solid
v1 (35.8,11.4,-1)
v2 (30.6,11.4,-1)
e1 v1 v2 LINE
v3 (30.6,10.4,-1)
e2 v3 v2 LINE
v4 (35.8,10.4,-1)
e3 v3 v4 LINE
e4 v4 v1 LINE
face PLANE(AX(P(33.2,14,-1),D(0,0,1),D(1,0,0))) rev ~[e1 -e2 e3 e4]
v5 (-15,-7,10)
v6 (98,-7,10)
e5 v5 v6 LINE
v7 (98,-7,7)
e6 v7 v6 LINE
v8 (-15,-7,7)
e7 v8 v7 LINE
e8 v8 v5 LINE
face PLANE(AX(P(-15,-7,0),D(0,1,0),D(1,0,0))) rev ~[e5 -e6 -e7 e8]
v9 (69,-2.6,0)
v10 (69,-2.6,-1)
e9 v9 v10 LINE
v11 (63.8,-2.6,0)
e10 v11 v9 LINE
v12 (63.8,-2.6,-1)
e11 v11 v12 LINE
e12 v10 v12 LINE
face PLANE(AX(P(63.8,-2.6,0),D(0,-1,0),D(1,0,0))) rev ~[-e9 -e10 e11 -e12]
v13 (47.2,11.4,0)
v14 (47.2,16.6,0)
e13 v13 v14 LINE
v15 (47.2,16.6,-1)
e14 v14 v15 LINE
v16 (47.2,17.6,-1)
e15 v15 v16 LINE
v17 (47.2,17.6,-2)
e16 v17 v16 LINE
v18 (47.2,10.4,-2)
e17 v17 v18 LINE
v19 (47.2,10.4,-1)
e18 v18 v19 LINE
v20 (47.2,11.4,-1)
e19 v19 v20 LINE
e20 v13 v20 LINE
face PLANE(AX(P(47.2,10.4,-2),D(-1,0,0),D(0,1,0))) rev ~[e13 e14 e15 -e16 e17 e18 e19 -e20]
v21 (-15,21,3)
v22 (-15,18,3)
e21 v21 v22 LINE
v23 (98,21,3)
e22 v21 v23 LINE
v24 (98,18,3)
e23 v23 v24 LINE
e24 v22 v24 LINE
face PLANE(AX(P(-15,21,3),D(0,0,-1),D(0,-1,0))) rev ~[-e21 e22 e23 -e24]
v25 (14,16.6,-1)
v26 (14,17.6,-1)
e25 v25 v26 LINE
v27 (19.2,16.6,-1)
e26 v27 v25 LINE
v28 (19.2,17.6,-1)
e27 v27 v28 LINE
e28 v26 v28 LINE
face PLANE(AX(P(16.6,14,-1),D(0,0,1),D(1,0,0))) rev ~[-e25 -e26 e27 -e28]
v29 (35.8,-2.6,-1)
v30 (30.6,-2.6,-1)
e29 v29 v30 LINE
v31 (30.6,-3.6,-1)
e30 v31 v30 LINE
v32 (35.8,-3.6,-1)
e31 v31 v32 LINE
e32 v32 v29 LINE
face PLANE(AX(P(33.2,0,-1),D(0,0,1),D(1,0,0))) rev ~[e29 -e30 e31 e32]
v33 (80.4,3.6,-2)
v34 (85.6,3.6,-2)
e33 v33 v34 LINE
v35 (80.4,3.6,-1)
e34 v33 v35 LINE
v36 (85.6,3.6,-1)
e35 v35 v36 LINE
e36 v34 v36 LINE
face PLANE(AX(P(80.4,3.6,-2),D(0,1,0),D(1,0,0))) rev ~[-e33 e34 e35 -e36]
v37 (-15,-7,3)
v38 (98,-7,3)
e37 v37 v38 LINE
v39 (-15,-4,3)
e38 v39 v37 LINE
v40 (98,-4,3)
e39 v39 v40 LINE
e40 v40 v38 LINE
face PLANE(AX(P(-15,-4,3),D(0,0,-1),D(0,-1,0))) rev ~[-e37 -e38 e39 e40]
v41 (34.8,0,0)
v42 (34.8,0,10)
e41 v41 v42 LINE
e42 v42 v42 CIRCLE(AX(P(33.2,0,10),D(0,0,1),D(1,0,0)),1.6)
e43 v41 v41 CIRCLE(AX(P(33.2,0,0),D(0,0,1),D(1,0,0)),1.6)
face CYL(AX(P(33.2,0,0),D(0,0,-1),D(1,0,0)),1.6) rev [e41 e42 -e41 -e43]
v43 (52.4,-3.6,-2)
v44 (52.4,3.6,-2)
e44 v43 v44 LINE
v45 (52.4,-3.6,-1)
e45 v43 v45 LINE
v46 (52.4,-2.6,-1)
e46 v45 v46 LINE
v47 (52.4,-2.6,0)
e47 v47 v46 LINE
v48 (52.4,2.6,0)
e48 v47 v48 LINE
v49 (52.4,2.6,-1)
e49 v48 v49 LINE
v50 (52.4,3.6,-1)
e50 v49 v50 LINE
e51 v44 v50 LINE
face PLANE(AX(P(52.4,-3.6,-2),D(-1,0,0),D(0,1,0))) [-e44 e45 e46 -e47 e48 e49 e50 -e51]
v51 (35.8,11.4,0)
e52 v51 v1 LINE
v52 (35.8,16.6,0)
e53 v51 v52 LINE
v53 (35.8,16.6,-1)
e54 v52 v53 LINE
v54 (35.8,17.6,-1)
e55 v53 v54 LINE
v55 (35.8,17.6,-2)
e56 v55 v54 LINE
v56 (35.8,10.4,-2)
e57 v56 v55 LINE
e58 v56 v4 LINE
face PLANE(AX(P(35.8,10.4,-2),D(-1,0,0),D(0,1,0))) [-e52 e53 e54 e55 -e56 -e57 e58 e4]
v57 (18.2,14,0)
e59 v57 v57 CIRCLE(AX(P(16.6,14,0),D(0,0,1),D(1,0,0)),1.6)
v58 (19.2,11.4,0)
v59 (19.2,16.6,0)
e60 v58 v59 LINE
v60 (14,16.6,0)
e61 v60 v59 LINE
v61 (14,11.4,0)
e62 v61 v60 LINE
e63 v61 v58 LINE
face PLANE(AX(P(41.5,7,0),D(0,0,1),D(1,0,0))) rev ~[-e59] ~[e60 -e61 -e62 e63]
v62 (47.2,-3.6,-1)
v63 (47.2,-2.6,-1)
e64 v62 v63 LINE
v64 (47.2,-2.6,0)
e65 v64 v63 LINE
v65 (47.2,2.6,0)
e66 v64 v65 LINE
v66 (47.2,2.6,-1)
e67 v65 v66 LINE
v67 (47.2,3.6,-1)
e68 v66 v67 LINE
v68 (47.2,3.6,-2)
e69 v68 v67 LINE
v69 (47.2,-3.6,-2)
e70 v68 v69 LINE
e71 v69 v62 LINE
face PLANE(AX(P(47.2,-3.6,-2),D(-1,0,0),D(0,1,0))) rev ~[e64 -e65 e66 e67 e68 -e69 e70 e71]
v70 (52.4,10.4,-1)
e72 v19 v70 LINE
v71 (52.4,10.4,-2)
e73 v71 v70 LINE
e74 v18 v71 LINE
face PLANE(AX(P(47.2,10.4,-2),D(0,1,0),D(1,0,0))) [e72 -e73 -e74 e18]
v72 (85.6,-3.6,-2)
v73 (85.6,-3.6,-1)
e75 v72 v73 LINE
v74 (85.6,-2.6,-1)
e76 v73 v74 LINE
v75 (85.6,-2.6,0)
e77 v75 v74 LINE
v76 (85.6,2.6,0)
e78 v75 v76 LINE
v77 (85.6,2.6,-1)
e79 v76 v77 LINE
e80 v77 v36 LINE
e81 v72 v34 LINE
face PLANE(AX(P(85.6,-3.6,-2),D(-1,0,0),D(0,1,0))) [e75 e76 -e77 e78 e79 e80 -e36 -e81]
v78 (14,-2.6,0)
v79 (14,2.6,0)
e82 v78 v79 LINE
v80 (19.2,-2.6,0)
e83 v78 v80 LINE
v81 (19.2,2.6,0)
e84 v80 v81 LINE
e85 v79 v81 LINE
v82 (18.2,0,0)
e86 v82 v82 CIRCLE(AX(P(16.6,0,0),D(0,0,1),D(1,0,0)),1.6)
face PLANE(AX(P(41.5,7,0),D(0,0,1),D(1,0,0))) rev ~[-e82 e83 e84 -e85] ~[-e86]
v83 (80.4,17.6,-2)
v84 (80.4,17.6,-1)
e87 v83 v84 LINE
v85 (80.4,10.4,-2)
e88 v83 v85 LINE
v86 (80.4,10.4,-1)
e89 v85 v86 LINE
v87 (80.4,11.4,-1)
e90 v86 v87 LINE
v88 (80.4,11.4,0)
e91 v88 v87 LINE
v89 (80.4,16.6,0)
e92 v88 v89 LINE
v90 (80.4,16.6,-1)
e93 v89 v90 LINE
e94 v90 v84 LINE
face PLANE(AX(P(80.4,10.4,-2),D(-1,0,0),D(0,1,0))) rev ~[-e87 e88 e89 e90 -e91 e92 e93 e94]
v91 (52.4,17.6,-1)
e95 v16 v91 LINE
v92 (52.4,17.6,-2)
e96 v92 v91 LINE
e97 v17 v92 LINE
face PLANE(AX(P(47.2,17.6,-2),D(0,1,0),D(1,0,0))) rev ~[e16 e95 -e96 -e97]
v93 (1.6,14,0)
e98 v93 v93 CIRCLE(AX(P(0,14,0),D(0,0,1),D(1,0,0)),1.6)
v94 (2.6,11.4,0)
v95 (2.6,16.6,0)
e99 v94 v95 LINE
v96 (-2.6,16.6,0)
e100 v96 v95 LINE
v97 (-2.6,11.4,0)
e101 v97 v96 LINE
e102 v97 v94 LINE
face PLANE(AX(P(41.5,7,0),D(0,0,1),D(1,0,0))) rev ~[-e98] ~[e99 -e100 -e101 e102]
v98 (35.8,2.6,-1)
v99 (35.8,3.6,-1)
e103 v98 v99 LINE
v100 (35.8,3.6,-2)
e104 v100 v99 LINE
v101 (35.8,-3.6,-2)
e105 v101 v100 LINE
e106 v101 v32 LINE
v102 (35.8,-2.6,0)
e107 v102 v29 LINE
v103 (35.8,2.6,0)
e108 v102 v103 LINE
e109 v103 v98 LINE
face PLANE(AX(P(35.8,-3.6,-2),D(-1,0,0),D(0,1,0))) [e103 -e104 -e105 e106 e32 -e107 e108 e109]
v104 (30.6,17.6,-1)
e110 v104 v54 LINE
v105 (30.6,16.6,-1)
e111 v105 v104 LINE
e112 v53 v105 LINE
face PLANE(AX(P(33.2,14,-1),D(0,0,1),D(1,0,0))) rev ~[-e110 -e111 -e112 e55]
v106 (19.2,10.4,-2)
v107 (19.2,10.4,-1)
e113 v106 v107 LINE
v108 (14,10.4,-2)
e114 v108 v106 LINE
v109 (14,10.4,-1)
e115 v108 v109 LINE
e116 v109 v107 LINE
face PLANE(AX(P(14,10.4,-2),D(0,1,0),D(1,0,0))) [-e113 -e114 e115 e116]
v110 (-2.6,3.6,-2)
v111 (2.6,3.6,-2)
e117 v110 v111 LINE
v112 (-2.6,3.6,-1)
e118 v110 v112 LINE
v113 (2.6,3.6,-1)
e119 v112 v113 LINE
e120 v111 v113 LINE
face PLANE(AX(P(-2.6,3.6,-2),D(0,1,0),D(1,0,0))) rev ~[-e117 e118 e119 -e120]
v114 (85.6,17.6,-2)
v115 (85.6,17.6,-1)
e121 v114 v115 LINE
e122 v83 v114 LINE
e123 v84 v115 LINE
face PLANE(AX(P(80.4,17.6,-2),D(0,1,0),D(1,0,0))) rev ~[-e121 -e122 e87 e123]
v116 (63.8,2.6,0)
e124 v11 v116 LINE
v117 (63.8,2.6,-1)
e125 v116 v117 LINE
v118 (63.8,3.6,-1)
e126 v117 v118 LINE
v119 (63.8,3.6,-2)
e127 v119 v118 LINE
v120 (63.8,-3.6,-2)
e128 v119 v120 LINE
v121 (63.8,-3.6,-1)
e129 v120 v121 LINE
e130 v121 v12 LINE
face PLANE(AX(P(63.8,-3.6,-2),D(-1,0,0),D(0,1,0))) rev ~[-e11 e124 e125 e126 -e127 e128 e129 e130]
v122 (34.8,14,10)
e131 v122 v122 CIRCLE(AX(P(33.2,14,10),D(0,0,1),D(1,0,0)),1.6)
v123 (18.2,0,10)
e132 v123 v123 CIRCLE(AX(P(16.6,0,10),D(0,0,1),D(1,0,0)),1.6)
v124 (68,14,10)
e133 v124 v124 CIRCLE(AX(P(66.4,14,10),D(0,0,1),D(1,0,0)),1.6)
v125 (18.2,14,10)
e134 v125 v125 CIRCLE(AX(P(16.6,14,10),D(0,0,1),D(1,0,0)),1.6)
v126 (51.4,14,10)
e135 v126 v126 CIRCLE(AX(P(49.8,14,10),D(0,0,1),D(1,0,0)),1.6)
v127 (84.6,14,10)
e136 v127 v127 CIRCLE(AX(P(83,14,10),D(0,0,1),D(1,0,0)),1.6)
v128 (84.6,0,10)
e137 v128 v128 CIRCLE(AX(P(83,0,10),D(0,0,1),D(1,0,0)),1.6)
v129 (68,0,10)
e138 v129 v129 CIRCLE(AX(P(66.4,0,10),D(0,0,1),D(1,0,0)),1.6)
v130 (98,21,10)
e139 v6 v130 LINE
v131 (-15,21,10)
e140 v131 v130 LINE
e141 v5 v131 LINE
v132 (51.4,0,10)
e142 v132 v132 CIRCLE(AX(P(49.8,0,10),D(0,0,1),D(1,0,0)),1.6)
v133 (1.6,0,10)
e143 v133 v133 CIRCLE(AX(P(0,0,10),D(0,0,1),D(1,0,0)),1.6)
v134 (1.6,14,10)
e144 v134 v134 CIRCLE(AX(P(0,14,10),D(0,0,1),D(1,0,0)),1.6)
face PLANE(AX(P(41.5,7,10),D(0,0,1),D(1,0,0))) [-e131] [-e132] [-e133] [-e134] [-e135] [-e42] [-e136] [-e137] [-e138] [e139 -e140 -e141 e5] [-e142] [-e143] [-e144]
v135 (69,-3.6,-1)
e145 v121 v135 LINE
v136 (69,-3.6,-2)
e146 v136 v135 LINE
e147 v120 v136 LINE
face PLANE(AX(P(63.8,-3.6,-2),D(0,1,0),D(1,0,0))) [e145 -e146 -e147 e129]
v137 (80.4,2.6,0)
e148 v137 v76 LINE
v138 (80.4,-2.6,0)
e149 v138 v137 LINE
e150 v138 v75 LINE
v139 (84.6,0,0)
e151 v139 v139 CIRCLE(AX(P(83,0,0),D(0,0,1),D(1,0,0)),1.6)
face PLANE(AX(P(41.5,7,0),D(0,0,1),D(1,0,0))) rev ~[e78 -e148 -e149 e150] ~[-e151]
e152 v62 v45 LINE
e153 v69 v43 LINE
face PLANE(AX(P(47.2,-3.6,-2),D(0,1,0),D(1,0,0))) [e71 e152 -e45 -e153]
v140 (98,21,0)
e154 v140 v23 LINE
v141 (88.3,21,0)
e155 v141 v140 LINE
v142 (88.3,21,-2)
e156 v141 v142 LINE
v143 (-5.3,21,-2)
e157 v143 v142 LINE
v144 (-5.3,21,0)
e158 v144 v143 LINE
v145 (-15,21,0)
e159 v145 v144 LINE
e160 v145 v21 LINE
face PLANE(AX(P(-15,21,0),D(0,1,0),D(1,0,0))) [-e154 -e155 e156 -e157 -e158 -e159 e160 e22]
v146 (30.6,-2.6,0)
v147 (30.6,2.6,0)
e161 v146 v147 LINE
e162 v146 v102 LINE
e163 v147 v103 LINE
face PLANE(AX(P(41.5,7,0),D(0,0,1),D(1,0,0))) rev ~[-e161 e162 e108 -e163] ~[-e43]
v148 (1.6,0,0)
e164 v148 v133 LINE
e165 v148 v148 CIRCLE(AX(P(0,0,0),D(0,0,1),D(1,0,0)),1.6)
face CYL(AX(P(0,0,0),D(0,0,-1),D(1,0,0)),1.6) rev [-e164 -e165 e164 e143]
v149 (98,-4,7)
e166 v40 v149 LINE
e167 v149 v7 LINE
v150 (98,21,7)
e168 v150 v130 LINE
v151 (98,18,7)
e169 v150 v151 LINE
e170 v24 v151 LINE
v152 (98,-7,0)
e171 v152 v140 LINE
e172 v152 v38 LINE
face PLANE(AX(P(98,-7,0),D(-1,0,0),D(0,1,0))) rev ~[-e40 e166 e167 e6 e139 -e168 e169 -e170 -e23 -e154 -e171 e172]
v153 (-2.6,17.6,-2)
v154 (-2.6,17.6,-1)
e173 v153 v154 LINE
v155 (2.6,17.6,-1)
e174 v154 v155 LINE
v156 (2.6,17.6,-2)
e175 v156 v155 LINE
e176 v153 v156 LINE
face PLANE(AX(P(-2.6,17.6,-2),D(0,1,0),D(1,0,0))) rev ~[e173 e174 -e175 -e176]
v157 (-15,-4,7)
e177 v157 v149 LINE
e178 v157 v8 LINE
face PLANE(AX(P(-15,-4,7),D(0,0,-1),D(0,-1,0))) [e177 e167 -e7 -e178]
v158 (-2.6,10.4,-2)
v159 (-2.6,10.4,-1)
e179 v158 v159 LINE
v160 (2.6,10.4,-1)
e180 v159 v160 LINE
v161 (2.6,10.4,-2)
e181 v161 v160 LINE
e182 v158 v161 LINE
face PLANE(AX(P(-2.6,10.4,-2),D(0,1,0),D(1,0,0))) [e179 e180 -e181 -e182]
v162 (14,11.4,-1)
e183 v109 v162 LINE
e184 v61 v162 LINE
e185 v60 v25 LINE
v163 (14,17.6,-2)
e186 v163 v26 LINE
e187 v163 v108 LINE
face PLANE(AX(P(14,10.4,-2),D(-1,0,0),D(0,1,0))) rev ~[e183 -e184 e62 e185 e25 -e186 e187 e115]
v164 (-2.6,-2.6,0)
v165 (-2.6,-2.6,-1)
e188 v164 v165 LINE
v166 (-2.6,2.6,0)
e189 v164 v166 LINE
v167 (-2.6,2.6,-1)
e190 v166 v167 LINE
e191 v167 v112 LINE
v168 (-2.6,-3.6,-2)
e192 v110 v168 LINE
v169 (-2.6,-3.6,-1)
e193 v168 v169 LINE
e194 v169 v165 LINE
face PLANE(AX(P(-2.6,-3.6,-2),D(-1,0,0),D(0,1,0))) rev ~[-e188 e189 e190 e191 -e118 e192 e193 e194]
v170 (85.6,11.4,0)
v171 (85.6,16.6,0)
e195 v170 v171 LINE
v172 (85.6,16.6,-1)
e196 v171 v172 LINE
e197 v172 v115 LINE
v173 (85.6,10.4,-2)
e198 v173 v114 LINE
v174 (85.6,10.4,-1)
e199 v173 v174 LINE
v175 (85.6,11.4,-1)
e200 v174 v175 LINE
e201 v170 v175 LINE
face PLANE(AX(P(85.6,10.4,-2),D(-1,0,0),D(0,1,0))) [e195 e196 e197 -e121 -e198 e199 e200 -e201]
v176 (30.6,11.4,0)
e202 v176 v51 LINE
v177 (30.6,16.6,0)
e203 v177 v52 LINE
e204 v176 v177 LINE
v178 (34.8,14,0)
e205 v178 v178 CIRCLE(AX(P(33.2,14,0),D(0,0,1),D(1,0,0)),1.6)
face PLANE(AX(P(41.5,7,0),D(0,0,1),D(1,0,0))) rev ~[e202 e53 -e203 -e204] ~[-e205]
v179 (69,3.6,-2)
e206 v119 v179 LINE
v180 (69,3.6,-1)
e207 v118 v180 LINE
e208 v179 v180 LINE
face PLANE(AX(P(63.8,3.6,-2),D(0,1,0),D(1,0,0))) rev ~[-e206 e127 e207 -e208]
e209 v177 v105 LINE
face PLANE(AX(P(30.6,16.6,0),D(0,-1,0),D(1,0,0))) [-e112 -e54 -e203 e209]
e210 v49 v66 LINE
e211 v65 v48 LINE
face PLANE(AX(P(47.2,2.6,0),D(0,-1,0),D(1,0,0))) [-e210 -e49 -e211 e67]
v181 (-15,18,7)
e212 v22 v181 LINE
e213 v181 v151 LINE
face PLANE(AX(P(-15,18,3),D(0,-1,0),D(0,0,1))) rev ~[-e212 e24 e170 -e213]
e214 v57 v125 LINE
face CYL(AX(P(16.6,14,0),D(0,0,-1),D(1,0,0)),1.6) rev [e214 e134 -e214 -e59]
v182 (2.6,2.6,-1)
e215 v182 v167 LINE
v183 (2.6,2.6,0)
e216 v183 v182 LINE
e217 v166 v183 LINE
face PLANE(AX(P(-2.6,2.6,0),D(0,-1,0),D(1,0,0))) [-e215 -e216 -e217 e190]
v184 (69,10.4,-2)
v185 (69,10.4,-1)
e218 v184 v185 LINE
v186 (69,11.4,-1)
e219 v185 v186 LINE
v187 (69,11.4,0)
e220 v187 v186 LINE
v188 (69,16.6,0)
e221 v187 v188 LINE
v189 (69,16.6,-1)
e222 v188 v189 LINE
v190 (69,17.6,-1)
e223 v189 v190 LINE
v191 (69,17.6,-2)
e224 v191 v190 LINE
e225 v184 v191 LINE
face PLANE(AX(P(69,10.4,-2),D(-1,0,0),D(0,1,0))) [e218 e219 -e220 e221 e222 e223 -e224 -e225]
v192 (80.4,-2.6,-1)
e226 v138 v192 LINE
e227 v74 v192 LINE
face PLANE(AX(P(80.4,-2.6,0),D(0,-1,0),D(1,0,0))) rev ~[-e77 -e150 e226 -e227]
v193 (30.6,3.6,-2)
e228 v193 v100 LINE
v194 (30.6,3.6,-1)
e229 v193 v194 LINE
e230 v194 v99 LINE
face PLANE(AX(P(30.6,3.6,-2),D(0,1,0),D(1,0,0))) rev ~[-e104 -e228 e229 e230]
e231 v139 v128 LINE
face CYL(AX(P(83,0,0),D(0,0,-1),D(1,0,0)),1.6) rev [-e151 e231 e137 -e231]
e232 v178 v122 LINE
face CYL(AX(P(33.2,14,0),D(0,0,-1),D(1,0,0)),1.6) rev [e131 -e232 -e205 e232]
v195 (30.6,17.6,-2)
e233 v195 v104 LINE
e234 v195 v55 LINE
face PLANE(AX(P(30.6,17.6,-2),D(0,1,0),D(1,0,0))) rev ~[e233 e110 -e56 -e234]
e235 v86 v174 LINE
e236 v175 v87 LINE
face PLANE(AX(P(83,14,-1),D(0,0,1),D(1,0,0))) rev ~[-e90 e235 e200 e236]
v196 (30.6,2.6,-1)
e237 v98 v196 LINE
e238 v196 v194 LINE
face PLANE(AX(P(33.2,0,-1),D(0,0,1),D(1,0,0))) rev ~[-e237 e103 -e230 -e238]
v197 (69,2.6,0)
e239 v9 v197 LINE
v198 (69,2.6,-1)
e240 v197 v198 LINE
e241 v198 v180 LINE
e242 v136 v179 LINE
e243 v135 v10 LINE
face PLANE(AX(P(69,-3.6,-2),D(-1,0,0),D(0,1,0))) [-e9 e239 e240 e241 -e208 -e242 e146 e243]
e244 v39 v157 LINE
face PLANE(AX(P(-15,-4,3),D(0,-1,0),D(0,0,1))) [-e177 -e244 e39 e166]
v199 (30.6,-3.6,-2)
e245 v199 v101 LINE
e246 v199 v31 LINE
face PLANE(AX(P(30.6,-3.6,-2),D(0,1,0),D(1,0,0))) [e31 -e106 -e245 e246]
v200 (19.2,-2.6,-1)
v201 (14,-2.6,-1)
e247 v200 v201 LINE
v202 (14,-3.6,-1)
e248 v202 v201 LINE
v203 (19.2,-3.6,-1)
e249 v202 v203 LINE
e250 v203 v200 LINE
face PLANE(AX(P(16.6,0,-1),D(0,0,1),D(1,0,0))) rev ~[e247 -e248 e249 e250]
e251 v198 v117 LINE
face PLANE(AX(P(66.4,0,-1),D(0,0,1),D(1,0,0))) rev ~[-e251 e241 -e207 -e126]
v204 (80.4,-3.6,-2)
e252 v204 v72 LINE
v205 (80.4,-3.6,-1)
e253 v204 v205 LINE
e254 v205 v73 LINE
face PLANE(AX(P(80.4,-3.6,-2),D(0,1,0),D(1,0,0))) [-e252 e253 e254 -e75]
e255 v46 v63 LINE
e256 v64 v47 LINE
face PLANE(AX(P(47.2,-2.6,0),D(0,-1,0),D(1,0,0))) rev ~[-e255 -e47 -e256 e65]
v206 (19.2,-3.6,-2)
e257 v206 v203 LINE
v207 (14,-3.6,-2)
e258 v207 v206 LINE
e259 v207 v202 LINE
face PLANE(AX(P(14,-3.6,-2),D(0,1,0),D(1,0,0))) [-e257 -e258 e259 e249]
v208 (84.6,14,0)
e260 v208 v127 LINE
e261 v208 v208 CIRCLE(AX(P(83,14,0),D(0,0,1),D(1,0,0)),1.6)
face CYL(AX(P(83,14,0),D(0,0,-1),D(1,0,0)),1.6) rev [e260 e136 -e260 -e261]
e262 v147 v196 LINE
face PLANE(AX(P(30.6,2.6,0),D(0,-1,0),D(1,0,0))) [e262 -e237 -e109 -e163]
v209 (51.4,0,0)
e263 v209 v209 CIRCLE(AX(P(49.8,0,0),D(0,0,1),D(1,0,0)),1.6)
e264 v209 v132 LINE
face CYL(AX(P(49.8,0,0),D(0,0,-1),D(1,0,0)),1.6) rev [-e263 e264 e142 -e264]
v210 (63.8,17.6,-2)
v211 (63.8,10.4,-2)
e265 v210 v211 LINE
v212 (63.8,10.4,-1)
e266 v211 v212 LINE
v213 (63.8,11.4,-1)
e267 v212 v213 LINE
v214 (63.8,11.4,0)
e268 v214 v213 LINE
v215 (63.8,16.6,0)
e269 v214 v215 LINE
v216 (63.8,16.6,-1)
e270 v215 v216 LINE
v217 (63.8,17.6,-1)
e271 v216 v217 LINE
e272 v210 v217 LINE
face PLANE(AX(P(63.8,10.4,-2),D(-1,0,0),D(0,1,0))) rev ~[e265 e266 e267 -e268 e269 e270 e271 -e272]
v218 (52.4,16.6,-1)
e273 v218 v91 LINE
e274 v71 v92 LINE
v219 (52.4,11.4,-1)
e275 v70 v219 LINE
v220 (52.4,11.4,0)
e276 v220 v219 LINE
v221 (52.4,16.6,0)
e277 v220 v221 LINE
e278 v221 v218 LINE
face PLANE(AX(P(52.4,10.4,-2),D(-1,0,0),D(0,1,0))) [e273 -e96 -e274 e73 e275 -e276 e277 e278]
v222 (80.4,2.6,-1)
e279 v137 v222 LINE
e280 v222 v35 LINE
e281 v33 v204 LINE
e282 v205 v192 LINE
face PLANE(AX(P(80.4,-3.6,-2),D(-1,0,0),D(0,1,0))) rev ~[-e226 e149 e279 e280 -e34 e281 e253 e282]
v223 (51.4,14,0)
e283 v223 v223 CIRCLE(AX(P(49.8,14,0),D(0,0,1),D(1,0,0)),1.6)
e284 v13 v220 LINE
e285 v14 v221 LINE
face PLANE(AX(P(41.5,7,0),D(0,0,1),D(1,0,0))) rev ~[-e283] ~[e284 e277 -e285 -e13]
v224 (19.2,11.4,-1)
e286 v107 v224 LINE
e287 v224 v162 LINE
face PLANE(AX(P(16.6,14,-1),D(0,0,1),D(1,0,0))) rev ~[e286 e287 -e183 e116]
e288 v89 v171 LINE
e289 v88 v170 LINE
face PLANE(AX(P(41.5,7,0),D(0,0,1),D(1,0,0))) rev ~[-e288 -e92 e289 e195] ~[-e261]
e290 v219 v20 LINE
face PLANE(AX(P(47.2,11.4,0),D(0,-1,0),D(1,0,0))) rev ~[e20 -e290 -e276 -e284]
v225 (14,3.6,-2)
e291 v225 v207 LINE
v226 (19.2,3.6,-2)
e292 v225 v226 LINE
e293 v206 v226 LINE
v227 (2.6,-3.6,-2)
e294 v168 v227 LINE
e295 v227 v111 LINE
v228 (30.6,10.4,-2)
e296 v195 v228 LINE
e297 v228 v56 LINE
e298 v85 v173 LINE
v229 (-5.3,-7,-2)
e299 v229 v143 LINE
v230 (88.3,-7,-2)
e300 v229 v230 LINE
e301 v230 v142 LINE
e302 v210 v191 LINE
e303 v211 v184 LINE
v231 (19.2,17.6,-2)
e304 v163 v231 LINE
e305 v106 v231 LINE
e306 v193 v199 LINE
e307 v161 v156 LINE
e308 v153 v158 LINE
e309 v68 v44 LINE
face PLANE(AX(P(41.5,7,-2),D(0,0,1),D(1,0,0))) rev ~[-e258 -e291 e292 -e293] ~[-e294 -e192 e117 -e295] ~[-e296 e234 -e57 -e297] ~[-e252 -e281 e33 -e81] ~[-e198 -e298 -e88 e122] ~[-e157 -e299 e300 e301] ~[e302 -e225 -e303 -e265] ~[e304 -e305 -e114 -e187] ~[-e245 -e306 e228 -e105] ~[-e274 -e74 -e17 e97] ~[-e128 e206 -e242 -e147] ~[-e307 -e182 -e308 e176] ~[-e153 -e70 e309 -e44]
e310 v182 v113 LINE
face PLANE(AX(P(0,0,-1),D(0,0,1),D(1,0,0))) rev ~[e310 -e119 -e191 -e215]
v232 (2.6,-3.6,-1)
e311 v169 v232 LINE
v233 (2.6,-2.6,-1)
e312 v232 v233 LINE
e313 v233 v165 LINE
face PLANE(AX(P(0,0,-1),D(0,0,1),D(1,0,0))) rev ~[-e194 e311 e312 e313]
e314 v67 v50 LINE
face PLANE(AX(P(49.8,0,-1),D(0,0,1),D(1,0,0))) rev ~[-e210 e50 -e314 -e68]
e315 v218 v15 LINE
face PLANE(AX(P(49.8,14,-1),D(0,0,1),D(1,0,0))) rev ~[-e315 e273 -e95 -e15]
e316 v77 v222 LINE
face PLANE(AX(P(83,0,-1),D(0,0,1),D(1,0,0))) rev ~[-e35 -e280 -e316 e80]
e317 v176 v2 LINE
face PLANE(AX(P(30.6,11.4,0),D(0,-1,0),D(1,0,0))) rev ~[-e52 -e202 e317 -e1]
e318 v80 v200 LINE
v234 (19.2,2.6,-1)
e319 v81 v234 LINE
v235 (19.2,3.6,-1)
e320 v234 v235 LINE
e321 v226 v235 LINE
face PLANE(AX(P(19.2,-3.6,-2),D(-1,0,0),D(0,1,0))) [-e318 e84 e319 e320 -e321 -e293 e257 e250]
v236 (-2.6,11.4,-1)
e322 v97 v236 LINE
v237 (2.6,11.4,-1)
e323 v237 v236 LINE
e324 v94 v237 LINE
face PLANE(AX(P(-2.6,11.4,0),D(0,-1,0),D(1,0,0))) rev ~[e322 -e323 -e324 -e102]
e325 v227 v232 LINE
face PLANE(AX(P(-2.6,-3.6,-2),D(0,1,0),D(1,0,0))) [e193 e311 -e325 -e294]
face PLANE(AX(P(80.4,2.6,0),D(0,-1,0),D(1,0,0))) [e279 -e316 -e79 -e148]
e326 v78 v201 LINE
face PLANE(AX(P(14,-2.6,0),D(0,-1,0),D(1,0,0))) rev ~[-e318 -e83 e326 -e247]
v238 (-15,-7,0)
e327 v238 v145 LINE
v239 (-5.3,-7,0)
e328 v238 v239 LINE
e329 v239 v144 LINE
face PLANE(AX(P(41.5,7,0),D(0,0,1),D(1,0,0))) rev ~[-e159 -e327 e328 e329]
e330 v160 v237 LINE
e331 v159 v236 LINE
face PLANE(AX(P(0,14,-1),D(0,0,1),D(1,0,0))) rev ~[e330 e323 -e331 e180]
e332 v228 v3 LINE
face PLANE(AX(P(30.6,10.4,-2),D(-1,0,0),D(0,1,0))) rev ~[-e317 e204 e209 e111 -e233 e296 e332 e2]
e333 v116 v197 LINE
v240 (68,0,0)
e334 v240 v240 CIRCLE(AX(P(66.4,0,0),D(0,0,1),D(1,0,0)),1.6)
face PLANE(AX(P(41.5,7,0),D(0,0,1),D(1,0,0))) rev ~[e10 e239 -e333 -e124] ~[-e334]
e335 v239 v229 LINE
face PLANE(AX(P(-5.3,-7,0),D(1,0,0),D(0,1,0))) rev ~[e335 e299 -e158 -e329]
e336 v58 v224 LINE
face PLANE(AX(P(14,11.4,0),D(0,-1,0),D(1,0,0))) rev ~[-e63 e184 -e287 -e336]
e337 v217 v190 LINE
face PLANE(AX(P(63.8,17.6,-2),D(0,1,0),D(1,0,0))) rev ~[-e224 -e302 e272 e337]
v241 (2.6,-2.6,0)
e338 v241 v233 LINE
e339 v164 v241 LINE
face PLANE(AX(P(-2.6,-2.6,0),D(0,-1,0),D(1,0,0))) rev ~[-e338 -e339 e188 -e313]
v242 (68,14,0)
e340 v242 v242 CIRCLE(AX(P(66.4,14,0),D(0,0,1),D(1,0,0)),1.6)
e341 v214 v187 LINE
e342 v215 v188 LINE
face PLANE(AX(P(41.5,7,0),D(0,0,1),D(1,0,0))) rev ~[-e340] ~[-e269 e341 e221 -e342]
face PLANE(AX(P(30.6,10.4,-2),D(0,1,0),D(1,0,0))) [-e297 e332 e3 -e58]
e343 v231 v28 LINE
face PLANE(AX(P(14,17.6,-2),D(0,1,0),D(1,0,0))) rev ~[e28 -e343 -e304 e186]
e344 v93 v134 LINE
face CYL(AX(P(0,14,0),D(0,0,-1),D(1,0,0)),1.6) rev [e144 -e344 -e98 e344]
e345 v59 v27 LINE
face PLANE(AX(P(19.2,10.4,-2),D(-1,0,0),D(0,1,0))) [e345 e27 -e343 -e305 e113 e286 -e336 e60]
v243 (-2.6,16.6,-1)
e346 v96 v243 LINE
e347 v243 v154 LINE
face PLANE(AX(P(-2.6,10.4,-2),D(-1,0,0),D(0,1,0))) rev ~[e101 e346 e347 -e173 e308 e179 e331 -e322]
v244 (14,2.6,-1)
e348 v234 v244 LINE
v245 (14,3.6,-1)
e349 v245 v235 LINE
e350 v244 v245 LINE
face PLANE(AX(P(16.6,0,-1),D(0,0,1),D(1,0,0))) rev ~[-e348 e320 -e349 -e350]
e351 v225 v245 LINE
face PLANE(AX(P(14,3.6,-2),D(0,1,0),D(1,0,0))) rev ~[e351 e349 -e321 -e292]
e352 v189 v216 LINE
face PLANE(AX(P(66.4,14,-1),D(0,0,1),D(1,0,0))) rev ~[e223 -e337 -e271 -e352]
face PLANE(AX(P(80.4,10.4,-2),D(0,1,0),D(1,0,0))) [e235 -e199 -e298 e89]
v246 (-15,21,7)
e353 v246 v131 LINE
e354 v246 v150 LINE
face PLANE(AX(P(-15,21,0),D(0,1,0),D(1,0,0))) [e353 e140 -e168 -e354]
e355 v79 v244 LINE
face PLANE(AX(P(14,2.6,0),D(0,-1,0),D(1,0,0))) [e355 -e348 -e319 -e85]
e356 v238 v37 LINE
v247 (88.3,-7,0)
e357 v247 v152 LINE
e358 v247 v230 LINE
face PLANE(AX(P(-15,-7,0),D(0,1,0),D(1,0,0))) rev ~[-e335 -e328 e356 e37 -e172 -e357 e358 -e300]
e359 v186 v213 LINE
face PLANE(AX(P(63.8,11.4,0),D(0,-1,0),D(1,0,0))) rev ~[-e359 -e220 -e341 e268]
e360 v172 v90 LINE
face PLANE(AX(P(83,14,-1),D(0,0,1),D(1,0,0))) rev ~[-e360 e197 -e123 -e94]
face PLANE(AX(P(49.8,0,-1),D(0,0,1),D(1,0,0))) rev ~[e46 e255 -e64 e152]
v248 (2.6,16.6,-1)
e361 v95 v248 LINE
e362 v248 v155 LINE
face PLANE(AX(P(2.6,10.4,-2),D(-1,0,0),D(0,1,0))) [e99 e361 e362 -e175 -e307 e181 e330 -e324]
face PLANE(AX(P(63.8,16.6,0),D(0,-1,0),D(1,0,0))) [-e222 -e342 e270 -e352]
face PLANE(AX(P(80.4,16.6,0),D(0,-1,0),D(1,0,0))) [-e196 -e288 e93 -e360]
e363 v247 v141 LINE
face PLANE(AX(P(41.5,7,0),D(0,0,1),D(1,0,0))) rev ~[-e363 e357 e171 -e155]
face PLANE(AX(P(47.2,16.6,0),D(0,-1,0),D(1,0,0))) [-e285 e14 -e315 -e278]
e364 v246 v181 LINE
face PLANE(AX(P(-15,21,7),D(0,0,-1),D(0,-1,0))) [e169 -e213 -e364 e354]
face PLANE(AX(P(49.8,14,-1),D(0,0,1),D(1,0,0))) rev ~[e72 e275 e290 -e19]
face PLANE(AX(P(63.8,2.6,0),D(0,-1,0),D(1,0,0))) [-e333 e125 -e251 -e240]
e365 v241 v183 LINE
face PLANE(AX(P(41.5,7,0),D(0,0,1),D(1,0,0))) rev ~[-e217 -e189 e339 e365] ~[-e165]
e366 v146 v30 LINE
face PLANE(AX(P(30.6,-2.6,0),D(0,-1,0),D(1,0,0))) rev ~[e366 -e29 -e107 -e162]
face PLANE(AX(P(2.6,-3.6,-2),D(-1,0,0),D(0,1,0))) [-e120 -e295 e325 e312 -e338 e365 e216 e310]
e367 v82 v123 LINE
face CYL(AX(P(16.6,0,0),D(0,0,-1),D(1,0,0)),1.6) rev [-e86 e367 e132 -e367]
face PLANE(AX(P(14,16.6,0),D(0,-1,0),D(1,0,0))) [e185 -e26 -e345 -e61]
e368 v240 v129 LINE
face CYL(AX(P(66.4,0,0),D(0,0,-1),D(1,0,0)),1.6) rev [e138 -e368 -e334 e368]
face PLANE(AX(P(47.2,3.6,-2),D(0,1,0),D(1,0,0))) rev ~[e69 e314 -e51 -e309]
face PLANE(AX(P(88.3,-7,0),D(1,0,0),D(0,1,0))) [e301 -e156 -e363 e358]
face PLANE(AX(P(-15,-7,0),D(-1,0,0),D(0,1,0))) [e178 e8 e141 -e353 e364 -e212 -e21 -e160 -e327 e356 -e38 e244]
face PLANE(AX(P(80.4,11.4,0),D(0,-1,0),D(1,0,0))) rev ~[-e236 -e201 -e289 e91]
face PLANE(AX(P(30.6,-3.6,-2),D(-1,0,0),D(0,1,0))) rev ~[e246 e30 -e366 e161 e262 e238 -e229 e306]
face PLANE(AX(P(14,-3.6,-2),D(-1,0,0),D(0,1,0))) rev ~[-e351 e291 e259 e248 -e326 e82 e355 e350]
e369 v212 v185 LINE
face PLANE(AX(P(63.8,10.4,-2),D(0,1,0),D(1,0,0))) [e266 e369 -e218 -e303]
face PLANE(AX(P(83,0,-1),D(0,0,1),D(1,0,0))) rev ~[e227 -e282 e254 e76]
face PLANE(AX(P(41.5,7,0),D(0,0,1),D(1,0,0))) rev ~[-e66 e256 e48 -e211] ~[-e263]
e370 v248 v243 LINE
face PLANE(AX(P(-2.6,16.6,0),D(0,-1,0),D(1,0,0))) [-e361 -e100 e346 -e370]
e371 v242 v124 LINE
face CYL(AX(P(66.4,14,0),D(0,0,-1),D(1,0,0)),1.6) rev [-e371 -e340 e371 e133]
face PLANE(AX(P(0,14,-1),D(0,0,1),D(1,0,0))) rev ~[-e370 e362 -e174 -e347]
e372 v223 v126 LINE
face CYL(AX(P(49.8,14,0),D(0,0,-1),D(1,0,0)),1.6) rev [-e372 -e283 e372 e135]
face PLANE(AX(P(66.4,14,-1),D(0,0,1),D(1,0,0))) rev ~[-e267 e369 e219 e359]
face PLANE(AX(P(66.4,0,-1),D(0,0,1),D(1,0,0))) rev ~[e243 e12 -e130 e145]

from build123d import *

# Parameters (mm, degrees)
SKETCH_W        = 113
SKETCH_H        = 28
SKETCH_R        = 1.6
PAD_DEPTH       = 10
SKETCH001_W     = 93.6
SKETCH001_H     = 28
SKETCH001_W_2   = 5.2
SKETCH001_H_2   = 5.2
PAD001_DEPTH    = 2
SKETCH002_W     = 3
SKETCH002_H     = 4
POCKET_DEPTH    = 113.001
SKETCH003_W     = 5.2
SKETCH003_H     = 7.2
POCKET001_DEPTH = 1


with BuildPart() as part:
    # Sketch → Pad (new body)
    with BuildSketch(Plane.XY):
        with Locations((41.5, 7)):
            Rectangle(SKETCH_W, SKETCH_H)
        Circle(SKETCH_R, mode=Mode.SUBTRACT)
        with Locations((0, 14)):
            Circle(SKETCH_R, mode=Mode.SUBTRACT)
        with Locations((16.6, 0)):
            Circle(SKETCH_R, mode=Mode.SUBTRACT)
        with Locations((16.6, 14)):
            Circle(SKETCH_R, mode=Mode.SUBTRACT)
        with Locations((33.2, 0)):
            Circle(SKETCH_R, mode=Mode.SUBTRACT)
        with Locations((33.2, 14)):
            Circle(SKETCH_R, mode=Mode.SUBTRACT)
        with Locations((49.8, 0)):
            Circle(SKETCH_R, mode=Mode.SUBTRACT)
        with Locations((49.8, 14)):
            Circle(SKETCH_R, mode=Mode.SUBTRACT)
        with Locations((66.4, 0)):
            Circle(SKETCH_R, mode=Mode.SUBTRACT)
        with Locations((66.4, 14)):
            Circle(SKETCH_R, mode=Mode.SUBTRACT)
        with Locations((83, 0)):
            Circle(SKETCH_R, mode=Mode.SUBTRACT)
        with Locations((83, 14)):
            Circle(SKETCH_R, mode=Mode.SUBTRACT)
    extrude(amount=PAD_DEPTH)

    # Sketch001 → Pad001 (join)
    with BuildSketch(Plane.XY):
        with Locations((41.5, 7)):
            Rectangle(SKETCH001_W, SKETCH001_H)
        Rectangle(SKETCH001_W_2, SKETCH001_H_2, mode=Mode.SUBTRACT)
        with Locations((0, 14)):
            Rectangle(SKETCH001_W_2, SKETCH001_H_2, mode=Mode.SUBTRACT)
        with Locations((16.6, 0)):
            Rectangle(SKETCH001_W_2, SKETCH001_H_2, mode=Mode.SUBTRACT)
        with Locations((16.6, 14)):
            Rectangle(SKETCH001_W_2, SKETCH001_H_2, mode=Mode.SUBTRACT)
        with Locations((33.2, 0)):
            Rectangle(SKETCH001_W_2, SKETCH001_H_2, mode=Mode.SUBTRACT)
        with Locations((33.2, 14)):
            Rectangle(SKETCH001_W_2, SKETCH001_H_2, mode=Mode.SUBTRACT)
        with Locations((49.8, 0)):
            Rectangle(SKETCH001_W_2, SKETCH001_H_2, mode=Mode.SUBTRACT)
        with Locations((49.8, 14)):
            Rectangle(SKETCH001_W_2, SKETCH001_H_2, mode=Mode.SUBTRACT)
        with Locations((66.4, 0)):
            Rectangle(SKETCH001_W_2, SKETCH001_H_2, mode=Mode.SUBTRACT)
        with Locations((66.4, 14)):
            Rectangle(SKETCH001_W_2, SKETCH001_H_2, mode=Mode.SUBTRACT)
        with Locations((83, 0)):
            Rectangle(SKETCH001_W_2, SKETCH001_H_2, mode=Mode.SUBTRACT)
        with Locations((83, 14)):
            Rectangle(SKETCH001_W_2, SKETCH001_H_2, mode=Mode.SUBTRACT)
    extrude(amount=-PAD001_DEPTH)

    # Sketch002 (on Face2 of Pad001) → Pocket (cut, through all)
    with BuildSketch(Plane(origin=(-15, 0, 0), x_dir=(0, -1, 0), z_dir=(-1, 0, 0))):
        with Locations((-19.5, 5)):
            Rectangle(SKETCH002_W, SKETCH002_H)
        with Locations((5.5, 5)):
            Rectangle(SKETCH002_W, SKETCH002_H)
    extrude(amount=-POCKET_DEPTH, mode=Mode.SUBTRACT)

    # Sketch003 → Pocket001 (cut)
    with BuildSketch(Plane.XY.offset(-2)):
        Rectangle(SKETCH003_W, SKETCH003_H)
        with Locations((0, 14)):
            Rectangle(SKETCH003_W, SKETCH003_H)
        with Locations((16.6, 0)):
            Rectangle(SKETCH003_W, SKETCH003_H)
        with Locations((16.6, 14)):
            Rectangle(SKETCH003_W, SKETCH003_H)
        with Locations((33.2, 0)):
            Rectangle(SKETCH003_W, SKETCH003_H)
        with Locations((33.2, 14)):
            Rectangle(SKETCH003_W, SKETCH003_H)
        with Locations((49.8, 0)):
            Rectangle(SKETCH003_W, SKETCH003_H)
        with Locations((49.8, 14)):
            Rectangle(SKETCH003_W, SKETCH003_H)
        with Locations((66.4, 0)):
            Rectangle(SKETCH003_W, SKETCH003_H)
        with Locations((66.4, 14)):
            Rectangle(SKETCH003_W, SKETCH003_H)
        with Locations((83, 0)):
            Rectangle(SKETCH003_W, SKETCH003_H)
        with Locations((83, 14)):
            Rectangle(SKETCH003_W, SKETCH003_H)
    extrude(amount=POCKET001_DEPTH, mode=Mode.SUBTRACT)


solid = part.part
